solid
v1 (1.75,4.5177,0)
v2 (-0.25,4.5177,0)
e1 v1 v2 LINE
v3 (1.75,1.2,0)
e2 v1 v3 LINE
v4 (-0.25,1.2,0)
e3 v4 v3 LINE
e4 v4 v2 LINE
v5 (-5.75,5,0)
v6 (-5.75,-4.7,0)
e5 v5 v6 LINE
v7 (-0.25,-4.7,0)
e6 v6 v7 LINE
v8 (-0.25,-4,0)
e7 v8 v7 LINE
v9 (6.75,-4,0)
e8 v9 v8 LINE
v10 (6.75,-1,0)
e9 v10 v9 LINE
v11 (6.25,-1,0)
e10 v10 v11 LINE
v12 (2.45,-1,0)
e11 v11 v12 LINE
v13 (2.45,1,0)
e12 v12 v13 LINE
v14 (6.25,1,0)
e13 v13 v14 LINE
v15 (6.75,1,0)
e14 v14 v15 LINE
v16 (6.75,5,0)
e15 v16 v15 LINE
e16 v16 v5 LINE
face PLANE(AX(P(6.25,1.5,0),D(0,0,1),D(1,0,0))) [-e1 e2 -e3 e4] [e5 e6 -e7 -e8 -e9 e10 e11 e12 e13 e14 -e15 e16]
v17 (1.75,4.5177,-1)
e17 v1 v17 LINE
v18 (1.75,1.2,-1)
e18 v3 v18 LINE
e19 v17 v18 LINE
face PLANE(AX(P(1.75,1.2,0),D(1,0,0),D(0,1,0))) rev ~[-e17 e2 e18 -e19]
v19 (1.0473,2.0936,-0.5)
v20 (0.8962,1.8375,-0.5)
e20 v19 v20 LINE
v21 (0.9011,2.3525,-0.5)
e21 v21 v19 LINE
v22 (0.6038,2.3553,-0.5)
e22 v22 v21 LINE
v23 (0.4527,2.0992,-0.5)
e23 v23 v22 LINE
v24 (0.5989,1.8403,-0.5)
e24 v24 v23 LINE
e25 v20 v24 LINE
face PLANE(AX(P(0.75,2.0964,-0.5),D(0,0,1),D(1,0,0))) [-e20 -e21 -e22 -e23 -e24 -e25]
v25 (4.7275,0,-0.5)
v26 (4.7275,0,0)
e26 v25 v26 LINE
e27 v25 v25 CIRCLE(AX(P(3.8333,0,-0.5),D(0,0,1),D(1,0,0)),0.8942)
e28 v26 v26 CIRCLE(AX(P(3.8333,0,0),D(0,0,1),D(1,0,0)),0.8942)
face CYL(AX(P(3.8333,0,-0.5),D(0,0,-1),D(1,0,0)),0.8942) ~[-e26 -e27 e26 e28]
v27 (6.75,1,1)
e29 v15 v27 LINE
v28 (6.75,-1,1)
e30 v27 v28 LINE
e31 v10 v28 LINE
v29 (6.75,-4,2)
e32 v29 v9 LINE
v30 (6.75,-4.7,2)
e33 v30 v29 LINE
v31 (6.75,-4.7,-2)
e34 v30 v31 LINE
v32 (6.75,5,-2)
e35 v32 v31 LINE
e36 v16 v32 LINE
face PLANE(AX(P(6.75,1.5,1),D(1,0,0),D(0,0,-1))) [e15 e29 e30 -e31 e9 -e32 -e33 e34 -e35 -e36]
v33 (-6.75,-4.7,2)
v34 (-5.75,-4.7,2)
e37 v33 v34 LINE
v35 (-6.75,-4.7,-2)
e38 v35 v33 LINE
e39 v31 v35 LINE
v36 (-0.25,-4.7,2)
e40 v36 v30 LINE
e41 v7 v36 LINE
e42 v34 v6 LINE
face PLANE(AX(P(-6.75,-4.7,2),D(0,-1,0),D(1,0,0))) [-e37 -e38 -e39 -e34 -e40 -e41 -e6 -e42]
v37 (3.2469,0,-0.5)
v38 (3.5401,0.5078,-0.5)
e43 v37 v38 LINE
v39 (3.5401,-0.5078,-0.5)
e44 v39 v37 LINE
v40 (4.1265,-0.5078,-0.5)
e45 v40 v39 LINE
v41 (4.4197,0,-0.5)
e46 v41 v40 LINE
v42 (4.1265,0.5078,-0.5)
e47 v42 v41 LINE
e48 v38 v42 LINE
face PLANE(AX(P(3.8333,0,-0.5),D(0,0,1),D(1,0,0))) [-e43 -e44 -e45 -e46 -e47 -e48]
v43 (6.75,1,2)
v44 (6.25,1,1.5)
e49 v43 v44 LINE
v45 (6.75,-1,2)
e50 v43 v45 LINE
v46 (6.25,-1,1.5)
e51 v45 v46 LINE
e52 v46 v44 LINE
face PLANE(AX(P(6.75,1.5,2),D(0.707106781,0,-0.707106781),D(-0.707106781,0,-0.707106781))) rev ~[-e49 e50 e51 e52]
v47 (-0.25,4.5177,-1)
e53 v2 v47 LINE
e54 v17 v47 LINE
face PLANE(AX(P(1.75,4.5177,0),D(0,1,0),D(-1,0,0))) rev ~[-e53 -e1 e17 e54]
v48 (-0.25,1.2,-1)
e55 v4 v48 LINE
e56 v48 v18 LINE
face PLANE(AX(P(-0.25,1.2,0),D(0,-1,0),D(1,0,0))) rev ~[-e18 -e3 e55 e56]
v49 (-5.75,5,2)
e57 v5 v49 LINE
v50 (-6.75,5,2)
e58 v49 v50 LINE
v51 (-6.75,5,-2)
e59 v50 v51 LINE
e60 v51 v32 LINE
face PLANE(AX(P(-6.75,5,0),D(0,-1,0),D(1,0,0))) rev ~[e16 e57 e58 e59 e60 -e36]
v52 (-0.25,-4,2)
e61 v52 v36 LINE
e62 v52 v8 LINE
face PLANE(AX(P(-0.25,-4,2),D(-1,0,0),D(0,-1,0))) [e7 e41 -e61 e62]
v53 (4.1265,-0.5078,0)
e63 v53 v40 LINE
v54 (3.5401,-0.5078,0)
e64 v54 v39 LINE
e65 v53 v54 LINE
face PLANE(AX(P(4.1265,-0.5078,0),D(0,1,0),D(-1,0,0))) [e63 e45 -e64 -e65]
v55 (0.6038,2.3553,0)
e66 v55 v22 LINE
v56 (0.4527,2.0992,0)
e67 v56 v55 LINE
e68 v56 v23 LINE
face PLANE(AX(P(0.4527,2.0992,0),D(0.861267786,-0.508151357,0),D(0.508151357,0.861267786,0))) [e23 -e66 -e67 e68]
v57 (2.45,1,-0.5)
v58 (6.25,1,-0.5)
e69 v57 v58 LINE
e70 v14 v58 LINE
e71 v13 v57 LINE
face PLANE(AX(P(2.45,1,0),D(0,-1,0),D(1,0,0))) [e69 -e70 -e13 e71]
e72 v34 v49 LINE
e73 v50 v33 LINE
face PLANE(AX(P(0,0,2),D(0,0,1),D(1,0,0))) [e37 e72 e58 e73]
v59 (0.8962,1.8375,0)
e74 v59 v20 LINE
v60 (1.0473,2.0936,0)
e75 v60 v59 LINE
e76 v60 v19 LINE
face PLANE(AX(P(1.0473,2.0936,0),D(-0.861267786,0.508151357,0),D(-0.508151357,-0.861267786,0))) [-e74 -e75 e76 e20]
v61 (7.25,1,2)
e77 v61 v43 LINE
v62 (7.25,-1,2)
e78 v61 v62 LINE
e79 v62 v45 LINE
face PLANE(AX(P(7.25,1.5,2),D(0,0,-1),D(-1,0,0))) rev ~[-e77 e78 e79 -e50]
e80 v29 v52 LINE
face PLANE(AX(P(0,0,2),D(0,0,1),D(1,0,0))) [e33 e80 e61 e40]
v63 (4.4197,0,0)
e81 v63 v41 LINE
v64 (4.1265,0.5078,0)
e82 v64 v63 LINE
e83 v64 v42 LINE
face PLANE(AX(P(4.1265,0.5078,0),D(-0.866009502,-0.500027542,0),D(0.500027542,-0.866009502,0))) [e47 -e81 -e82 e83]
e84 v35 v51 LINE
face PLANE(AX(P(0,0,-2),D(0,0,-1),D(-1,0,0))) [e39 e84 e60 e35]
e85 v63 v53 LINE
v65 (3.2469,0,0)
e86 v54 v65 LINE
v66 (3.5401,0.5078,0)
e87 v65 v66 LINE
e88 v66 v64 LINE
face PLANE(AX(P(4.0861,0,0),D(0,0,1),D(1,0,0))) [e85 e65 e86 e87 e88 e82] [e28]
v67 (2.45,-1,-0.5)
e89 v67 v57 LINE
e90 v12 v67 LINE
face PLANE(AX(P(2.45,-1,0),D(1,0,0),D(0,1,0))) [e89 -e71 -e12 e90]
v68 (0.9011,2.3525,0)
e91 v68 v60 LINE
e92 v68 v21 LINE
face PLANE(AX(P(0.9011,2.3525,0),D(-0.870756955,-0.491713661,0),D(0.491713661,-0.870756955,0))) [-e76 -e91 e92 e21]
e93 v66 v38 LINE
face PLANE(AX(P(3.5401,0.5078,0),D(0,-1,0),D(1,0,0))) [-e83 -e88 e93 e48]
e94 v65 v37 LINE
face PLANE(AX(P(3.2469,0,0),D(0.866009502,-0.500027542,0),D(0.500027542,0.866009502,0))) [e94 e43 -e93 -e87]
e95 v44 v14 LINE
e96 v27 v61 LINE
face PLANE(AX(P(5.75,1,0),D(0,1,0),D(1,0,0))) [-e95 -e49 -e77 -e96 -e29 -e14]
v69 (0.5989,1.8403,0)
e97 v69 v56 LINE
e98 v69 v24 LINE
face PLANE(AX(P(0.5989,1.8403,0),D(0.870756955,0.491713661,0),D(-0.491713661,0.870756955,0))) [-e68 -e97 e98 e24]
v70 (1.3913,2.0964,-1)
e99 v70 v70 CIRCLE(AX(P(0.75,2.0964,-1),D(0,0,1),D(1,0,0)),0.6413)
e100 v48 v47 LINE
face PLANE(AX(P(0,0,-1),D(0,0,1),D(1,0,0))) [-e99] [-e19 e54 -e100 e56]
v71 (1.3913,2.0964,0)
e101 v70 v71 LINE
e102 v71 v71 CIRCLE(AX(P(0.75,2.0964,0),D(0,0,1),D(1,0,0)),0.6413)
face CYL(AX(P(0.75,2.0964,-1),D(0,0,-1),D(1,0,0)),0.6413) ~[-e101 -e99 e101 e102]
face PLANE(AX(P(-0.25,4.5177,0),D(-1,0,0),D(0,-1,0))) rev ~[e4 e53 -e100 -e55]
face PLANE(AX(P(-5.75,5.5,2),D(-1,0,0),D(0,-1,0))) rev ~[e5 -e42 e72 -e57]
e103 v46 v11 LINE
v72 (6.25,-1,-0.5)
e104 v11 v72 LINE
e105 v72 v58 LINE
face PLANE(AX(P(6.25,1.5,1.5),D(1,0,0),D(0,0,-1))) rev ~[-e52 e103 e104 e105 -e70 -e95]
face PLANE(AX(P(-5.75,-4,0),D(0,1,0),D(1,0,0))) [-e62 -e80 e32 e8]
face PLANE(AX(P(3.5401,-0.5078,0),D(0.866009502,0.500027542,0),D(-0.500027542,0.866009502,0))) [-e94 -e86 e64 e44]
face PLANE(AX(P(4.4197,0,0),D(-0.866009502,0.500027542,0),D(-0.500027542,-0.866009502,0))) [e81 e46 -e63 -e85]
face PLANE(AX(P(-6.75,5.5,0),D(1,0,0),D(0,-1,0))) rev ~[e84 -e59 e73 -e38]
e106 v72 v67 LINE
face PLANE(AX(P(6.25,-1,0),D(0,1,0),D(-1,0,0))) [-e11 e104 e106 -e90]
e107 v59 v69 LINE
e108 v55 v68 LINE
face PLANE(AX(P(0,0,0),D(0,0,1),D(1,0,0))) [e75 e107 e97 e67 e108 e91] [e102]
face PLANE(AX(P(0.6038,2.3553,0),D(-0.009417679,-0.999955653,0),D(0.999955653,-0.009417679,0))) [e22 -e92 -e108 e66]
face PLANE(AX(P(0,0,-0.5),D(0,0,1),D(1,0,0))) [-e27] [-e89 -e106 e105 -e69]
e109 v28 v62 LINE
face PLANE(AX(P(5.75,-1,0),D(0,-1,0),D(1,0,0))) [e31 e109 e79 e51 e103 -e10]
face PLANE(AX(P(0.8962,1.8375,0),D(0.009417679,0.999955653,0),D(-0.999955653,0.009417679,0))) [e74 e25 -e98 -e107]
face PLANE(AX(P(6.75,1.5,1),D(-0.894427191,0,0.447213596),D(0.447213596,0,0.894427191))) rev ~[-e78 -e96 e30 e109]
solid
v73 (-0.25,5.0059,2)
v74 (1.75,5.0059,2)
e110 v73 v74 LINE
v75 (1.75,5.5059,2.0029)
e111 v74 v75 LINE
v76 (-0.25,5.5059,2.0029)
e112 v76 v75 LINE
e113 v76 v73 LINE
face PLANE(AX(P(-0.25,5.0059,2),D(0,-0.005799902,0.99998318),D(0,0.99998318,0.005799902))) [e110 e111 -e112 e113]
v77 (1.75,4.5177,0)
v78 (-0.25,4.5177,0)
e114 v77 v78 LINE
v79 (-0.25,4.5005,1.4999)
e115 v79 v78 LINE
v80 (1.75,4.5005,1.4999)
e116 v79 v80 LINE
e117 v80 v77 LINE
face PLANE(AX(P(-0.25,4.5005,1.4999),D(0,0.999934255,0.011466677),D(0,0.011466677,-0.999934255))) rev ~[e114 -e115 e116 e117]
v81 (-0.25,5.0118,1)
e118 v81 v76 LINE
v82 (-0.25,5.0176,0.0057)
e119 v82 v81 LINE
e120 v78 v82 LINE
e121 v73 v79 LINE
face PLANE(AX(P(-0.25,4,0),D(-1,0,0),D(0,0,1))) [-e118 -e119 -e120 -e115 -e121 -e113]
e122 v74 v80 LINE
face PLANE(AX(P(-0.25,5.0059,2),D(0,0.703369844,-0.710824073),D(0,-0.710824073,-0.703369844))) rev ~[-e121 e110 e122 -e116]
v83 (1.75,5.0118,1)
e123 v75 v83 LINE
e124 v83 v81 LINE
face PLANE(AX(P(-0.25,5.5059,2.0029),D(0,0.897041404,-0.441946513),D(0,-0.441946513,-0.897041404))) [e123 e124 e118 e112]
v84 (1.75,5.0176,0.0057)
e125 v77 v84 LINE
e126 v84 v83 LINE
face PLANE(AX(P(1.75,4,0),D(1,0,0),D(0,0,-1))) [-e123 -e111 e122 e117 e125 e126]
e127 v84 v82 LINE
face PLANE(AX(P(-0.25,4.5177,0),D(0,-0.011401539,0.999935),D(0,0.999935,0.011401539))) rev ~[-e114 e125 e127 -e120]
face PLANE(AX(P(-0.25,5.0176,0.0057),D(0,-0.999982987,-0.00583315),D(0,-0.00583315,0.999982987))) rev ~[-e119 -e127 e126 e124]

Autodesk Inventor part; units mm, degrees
ref_plane "YZ Plane" through (0, 0, 0) normal (1, 0, 0) x (0, 1, 0)
ref_plane "XZ Plane" through (0, 0, 0) normal (0, 1, 0) x (-1, 0, 0)
ref_plane "XY Plane" through (0, 0, 0) normal (0, 0, 1) x (1, 0, 0)
sketch "Sketch1" plane through (0, 0, 0) normal (0, 0, 1) x (1, 0, 0)
  line L0 (-5.75, -4) -> (5.75, -4)
  line L1 (5.75, -4) -> (5.75, 4)
  line L2 (5.75, 4) -> (-5.75, 4)
  line L3 (-5.75, 4) -> (-5.75, -4)
  line L4 (-5.75, -4) -> (5.75, 4) construction
  line L5 (5.75, -4) -> (-5.75, 4) construction
  line L6 (-6.75, -5.5) -> (6.75, -5.5)
  line L7 (6.75, -5.5) -> (6.75, 5.5)
  line L8 (6.75, 5.5) -> (-6.75, 5.5)
  line L9 (-6.75, 5.5) -> (-6.75, -5.5)
  line L10 (-6.75, -5.5) -> (6.75, 5.5) construction
  line L11 (6.75, -5.5) -> (-6.75, 5.5) construction
  point P0 (0, 0)
  dimension "d0" = 11.5
  dimension "d1" = 8
  dimension "d2" = 13.5
  dimension "d3" = 11
extrude "Extrusion1" add sketch "Sketch1" along normal blind 2
sketch "Sketch2" plane through (0, 0, 0) normal (0, 0, -1) x (-1, 0, 0)
  line L0 (-5.75, -4.5) -> (5.75, -4.5)
  line L1 (5.75, -4.5) -> (5.75, 3.5)
  line L2 (5.75, 3.5) -> (-5.75, 3.5)
  line L3 (-5.75, 3.5) -> (-5.75, -4.5)
  line L4 (-5.75, -4.5) -> (5.75, 3.5) construction
  line L5 (5.75, -4.5) -> (-5.75, 3.5) construction
  line L6 (-6.75, -6) -> (6.75, -6)
  line L7 (6.75, -6) -> (6.75, 5)
  line L8 (6.75, 5) -> (-6.75, 5)
  line L9 (-6.75, 5) -> (-6.75, -6)
  line L10 (-6.75, -6) -> (6.75, 5) construction
  line L11 (6.75, -6) -> (-6.75, 5) construction
  point P0 (0, 0)
  point P1 (0, -0.5)
  dimension "d6" = 11.5
  dimension "d7" = 8
  dimension "d8" = 13.5
  dimension "d9" = 11
extrude "Extrusion2" add sketch "Sketch2" along normal blind 2 contours L3 L2 L1 L0 | L9 L8 L7 L6
sketch "Sketch3" plane through (0, 0, 2) normal (0, 0, 1) x (1, 0, 0)
  line L0 (6.75, -5.5) -> (6.75, 5.5) projected
  line L1 (5.75, -4) -> (6.75, -4)
  line L2 (6.75, -4) -> (6.75, -1.5)
  line L3 (6.75, -1.5) -> (5.75, -1.5)
  line L4 (5.75, -1.5) -> (5.75, -4)
  line L5 (5.75, 4) -> (5.75, -4) projected
  line L6 (5.75, 4) -> (6.75, 4)
  line L7 (6.75, 4) -> (6.75, 1.5)
  line L8 (6.75, 1.5) -> (5.75, 1.5)
  line L9 (5.75, 1.5) -> (5.75, 4)
  point P0 (0, 0)
  dimension "d12" = 2.5
  dimension "d13" = 2.5
extrude "Extrusion3" cut sketch "Sketch3" against normal blind 2 contours L1 L4 L3 L0 | L8 L5 L6 L0
sketch "Sketch4" plane through (0, 0, 2) normal (0, 0, 1) x (1, 0, 0)
  line L0 (6.75, 5.5) -> (-6.75, 5.5) projected
  line L1 (-5.75, 4) -> (-0.25, 4)
  line L2 (-0.25, 4) -> (-0.25, 5.5)
  line L3 (-0.25, 5.5) -> (-5.75, 5.5)
  line L4 (-5.75, 5.5) -> (-5.75, 4)
  line L5 (-6.75, -5.5) -> (6.75, -5.5) projected
  line L6 (-5.75, -4) -> (-0.25, -4)
  line L7 (-0.25, -4) -> (-0.25, -5.5)
  line L8 (-0.25, -5.5) -> (-5.75, -5.5)
  line L9 (-5.75, -5.5) -> (-5.75, -4)
  line L10 (-5.75, 4) -> (6.75, 4) projected
  line L11 (1.75, 4) -> (6.7628, 4)
  line L12 (6.7628, 4) -> (6.7628, 5.5)
  line L13 (6.7628, 5.5) -> (1.75, 5.5)
  line L14 (1.75, 5.5) -> (1.75, 4)
  point P0 (0, 0)
  point P1 (1.75, 5.5)
  point P2 (6.75, 4)
  point P3 (-5.75, 5.5)
  dimension "d16" = 5.5
  dimension "d17" = 5.5
  dimension "d18" = 2
extrude "Extrusion4" cut sketch "Sketch4" against normal blind 2 contours L13 L12 L11 L10 L14 L0 | L2 L1 L4 L0 | L9 L6 L7 L5
sketch "Sketch5" plane through (0, 0, 0) normal (0, 0, 1) x (1, 0, 0)
  line L0 (-6.75, -6) -> (-6.75, 5) projected
  line L1 (6.75, -5.5) -> (6.75, -6) projected
  line L2 (-6.75, -6) -> (6.75, -6)
  line L3 (6.75, -6) -> (6.75, -5.5)
  line L4 (6.75, -5.5) -> (-6.75, -5.5)
  line L5 (-6.75, -5.5) -> (-6.75, -6)
  point P0 (0, 0)
  point P1 (-6.75, -5.5)
extrude "Extrusion5" cut sketch "Sketch5" against normal blind 2
sketch "Sketch6" plane through (0, 0, 0) normal (0, 0, -1) x (-1, 0, 0)
  line L0 (-1.75, 4) -> (-1.75, 5) projected
  line L1 (-1.75, 5.5) -> (0.25, 5.5) projected
  line L2 (-1.75, 5) -> (0.25, 5)
  line L3 (0.25, 5) -> (0.25, 5.5)
  line L4 (0.25, 5.5) -> (-1.75, 5.5)
  line L5 (-1.75, 5.5) -> (-1.75, 5)
  point P0 (0, 0)
extrude "Extrusion6" cut sketch "Sketch6" against normal blind 2
sketch "Sketch7" plane through (0, 0, 0) normal (0, 0, -1) x (-1, 0, 0)
  line L0 (0.25, 5) -> (5.75, 5) projected
  line L1 (6.75, 5.5) -> (6.75, -5.5) projected
  line L2 (5.75, 5) -> (6.75, 5)
  line L3 (6.75, 5) -> (6.75, 5.5)
  line L4 (6.75, 5.5) -> (5.75, 5.5)
  line L5 (5.75, 5.5) -> (5.75, 5)
  point P0 (0, 0)
extrude "Extrusion7" cut sketch "Sketch7" against normal blind 2
sketch "Sketch8" plane through (0, 0, 0) normal (0, 0, 1) x (1, 0, 0)
  line L0 (5.75, 1.5) -> (5.75, -1.5) projected
  line L1 (5.75, -1.5) -> (5.75, 1.5)
  line L2 (-0.25, 4) -> (1.75, 4) projected
  line L3 (1.75, 4) -> (-0.25, 4)
  line L4 (-0.25, 4) -> (-0.25, 1.2)
  line L5 (-0.25, 1.2) -> (1.75, 1.2)
  line L6 (1.75, 1.2) -> (1.75, 4)
  line L7 (5.75, -1) -> (2.45, -1)
  line L8 (2.45, -1) -> (2.45, 1)
  line L9 (2.45, 1) -> (5.75, 1)
  line L10 (5.75, 1) -> (5.75, -1)
  line L11 (6.75, 1.5) -> (5.75, 1.5) projected
  line L12 (5.75, -1.5) -> (6.75, -1.5) projected
  point P0 (0, 0)
  dimension "d28" = 2.8
  dimension "d57" = 3.3
  dimension "d58" = 2
  dimension "d59" = 0.5
  dimension "d60" = 0.5
extrude "Extrusion8" cut sketch "Sketch8" against normal blind 1 contours L2 L6 L5 L4
sketch "Sketch9" plane through (0, 0, -1) normal (0, 0, 1) x (1, 0, 0)
  circle A0 centre (0.75, 2.0964) radius 0.6413
  point P0 (0, 0)
extrude "Extrusion9" add sketch "Sketch9" along normal blind 1
sketch "Sketch10" plane through (0, 0, -1) normal (0, 0, 1) x (1, 0, 0)
  circle A0 centre (4.0861, 0) radius 0.75
  point P0 (0, 0)
  dimension "d33" = 1.5
extrude "Extrusion10" add sketch "Sketch10" along normal blind 1
sketch "Sketch11" plane through (4.0861, 0, 0) normal (0, 0, 1) x (1, 0, 0)
  line L0 (0.1861, -0.3022) -> (-0.1686, -0.3123)
  line L1 (-0.1686, -0.3123) -> (-0.3547, -0.0101)
  line L2 (-0.3547, -0.0101) -> (-0.1861, 0.3022)
  line L3 (-0.1861, 0.3022) -> (0.1686, 0.3123)
  line L4 (0.1686, 0.3123) -> (0.3547, 0.0101)
  line L5 (0.3547, 0.0101) -> (0.1861, -0.3022)
  point P0 (-4.0861, 0)
  point P1 (0, 0)
extrude "Extrusion11" cut sketch "Sketch11" against normal blind 0.5
sketch "Sketch12" plane through (0.75, 2.0964, 0) normal (0, 0, 1) x (1, 0, 0)
  circle A0 centre (0, 0) radius 0.6413 projected
  line L0 (0.1462, -0.2589) -> (-0.1511, -0.2561)
  line L1 (-0.1511, -0.2561) -> (-0.2973, 0.0028)
  line L2 (-0.2973, 0.0028) -> (-0.1462, 0.2589)
  line L3 (-0.1462, 0.2589) -> (0.1511, 0.2561)
  line L4 (0.1511, 0.2561) -> (0.2973, -0.0028)
  line L5 (0.2973, -0.0028) -> (0.1462, -0.2589)
  point P0 (-0.75, -2.0964)
extrude "Extrusion12" cut sketch "Sketch12" against normal blind 0.5 contours L0 L1 L2 L3 L4 L5
sketch "Sketch13" plane through (6.75, -5.5, 2) normal (1, 0, 0) x (0, 0, -1)
  line L0 (0, 4) -> (2, 4) projected
  line L1 (0.5, 4) -> (-0.5, 4)
  line L2 (-0.5, 4) -> (-0.5, 7)
  line L3 (-0.5, 7) -> (0.5, 7)
  line L4 (0.5, 7) -> (0.5, 4)
  line L5 (2, 10.5) -> (2, 7) projected
  point P0 (2, 5.5)
  dimension "d40" = 1
  dimension "d41" = 1.5
extrude "Extrusion13" add sketch "Sketch13" along normal blind 0.5
sketch "Sketch14" plane through (5.75, 1.5, 0) normal (0, 1, 0) x (1, 0, 0)
  line L0 (1, 0) -> (1, -1.5) projected
  line L1 (1, 0) -> (1, -1)
  line L2 (1, -1) -> (1.5, -2)
  line L3 (1.5, -1.5) -> (1.5, -2.5) projected
  line L4 (0, -2) -> (1, -2) projected
  line L5 (1, -2) -> (1.5, -2)
  line L6 (0, 0) -> (1, 0) projected
  line L7 (0.5, 0) -> (0.5, -1.5)
  line L8 (0.5, -1.5) -> (1, -2)
  point P0 (-5.75, 0)
  dimension "d44" = 1
extrude "Extrusion14" add sketch "Sketch14" along normal blind 5
sketch "Sketch15" plane through (5.75, -1.5, 0) normal (0, -1, 0) x (1, 0, 0)
  line L0 (0, 2) -> (1, 2) projected
  line L1 (0, 0) -> (0, 2) projected
  line L2 (0, 0) -> (1, 0) projected
  line L3 (1, 1.5) -> (1, 0) projected
  line L4 (1, 1.5) -> (1.5, 1.5) projected
  line L5 (1.5, 2.5) -> (1.5, 1.5) projected
  line L6 (1, 2.5) -> (1.5, 2.5) projected
  line L7 (1, 2.5) -> (1, 2) projected
  point P0 (-5.75, 0)
extrude "Extrusion15" cut sketch "Sketch15" against normal blind 3
sketch "Sketch16" plane through (5.75, 1.5, 0) normal (0, -1, 0) x (1, 0, 0)
  line L0 (1, 1) -> (1.5, 2) projected
  line L1 (1.5, 2) -> (1, 2) projected
  line L2 (1, 2) -> (0.5, 1.5) projected
  line L3 (0.5, 1.5) -> (0.5, 0) projected
  line L4 (1, 0) -> (0.5, 0) projected
  line L5 (1, 1) -> (1, 0) projected
  point P0 (-5.75, 0)
extrude "Extrusion16" add sketch "Sketch16" along normal blind 3
sketch "Sketch17" plane through (5.75, 6.5, 0) normal (0, 1, 0) x (1, 0, 0)
  line L0 (1, -2) -> (1.5, -2) projected
  line L1 (1.5, -2) -> (1, -1) projected
  line L2 (1, -1) -> (1, 0) projected
  line L3 (1, 0) -> (0.5, 0) projected
  line L4 (0.5, 0) -> (0.5, -1.5) projected
  line L5 (0.5, -1.5) -> (1, -2) projected
  point P0 (-5.75, 0)
extrude "Extrusion17" cut sketch "Sketch17" against normal blind 5
sketch "Sketch18" plane through (5.75, 1.5, 0) normal (0, 1, 0) x (1, 0, 0)
  line L0 (1, -1) -> (1.5, -2) projected
  line L1 (1, 0) -> (1, -1) projected
  line L2 (0.5, 0) -> (1, 0) projected
  line L3 (0.5, -1.5) -> (0.5, 0) projected
  line L4 (1, -2) -> (0.5, -1.5) projected
  line L5 (1.5, -2) -> (1, -2) projected
  point P0 (-5.75, 0)
extrude "Extrusion18" cut sketch "Sketch18" against normal blind 0.5
sketch "Sketch19" plane through (5.75, -1.5, 0) normal (0, -1, 0) x (1, 0, 0)
  line L0 (1, 1) -> (1.5, 2) projected
  line L1 (1.5, 2) -> (1, 2) projected
  line L2 (1, 2) -> (0.5, 1.5) projected
  line L3 (0.5, 1.5) -> (0.5, 0) projected
  line L4 (1, 0) -> (0.5, 0) projected
  line L5 (1, 0) -> (1, 1) projected
  point P0 (-5.75, 0)
extrude "Extrusion19" cut sketch "Sketch19" against normal blind 0.5
sketch "Sketch20" plane through (0, 0, 0) normal (0, 0, 1) x (1, 0, 0)
  line L0 (6.25, -1) -> (6.25, 1) projected
  line L1 (6.25, -1) -> (2.45, -1)
  line L2 (2.45, -1) -> (2.45, 1)
  line L3 (2.45, 1) -> (6.25, 1)
  line L4 (6.25, 1) -> (6.25, -1)
  point P0 (0, 0)
  dimension "d61" = 3.8
  dimension "d62" = 2
extrude "Extrusion20" cut sketch "Sketch20" against normal blind 0.5
sketch "Sketch21" plane through (4.0861, 0, -0.5) normal (0, 0, 1) x (1, 0, 0)
  circle A0 centre (-0.2528, 0) radius 0.8942
  point P0 (-4.0861, 0)
extrude "Extrusion21" add sketch "Sketch21" along normal blind 0.5
sketch "Sketch22" plane through (3.8333, 0, 0) normal (0, 0, 1) x (1, 0, 0)
  line L0 (0.5864, 0) -> (0.2932, -0.5078)
  line L1 (0.2932, -0.5078) -> (-0.2932, -0.5078)
  line L2 (-0.2932, -0.5078) -> (-0.5864, 0)
  line L3 (-0.5864, 0) -> (-0.2932, 0.5078)
  line L4 (-0.2932, 0.5078) -> (0.2932, 0.5078)
  line L5 (0.2932, 0.5078) -> (0.5864, 0)
  point P0 (-3.8333, 0)
  point P1 (0, 0)
extrude "Extrusion22" cut sketch "Sketch22" against normal blind 0.5
sketch "Sketch23" plane through (-6.75, 5, -2) normal (0, 1, 0) x (1, 0, 0)
  line L0 (8.5, -4) -> (6.5, -4) projected
  line L1 (6.5, -4) -> (6.5, -2) projected
  line L2 (8.5, -4) -> (6.5, -4)
  line L3 (6.5, -4) -> (6.5, -3)
  line L4 (6.5, -3) -> (8.5, -3)
  line L5 (8.5, -3) -> (8.5, -4)
  point P0 (6.75, -2)
  dimension "d69" = 1
extrude "Extrusion23" add sketch "Sketch23" along normal blind 0.5
sketch "Sketch24" plane through (-0.25, 4, 0) normal (-1, 0, 0) x (0, 0, 1)
  line L0 (2, 1.0059) -> (2.0029, 1.5059)
  line L1 (2.0029, 1.5059) -> (1, 1.0118)
  line L2 (1, 1.0118) -> (0.0057, 1.0176)
  line L3 (0.0057, 1.0176) -> (0, 0.5177)
  line L4 (0, 0.5177) -> (1.4999, 0.5005)
  line L5 (1.4999, 0.5005) -> (2, 1.0059)
  line L6 (2, 1.5) -> (2, 0) projected
  line L7 (2, 1.0059) -> (2, 0)
  line L8 (0, 0) -> (-1, 0) projected
  line L9 (2, 0) -> (0, 0)
  line L10 (0, 0) -> (0, 0.5177)
  point P0 (0, -4)
  point P1 (-5.75, 0)
extrude "Extrusion24" add sketch "Sketch24" along normal blind 4 contours L5 L4 L3 L2 L1 L0
sketch "Sketch25" plane through (1.75, 4, 0) normal (1, 0, 0) x (0, 0, -1)
  line L0 (0, 1) -> (-1, 1) projected
  line L1 (-1, 1) -> (-1, 1.5) projected
  line L2 (-2, 1.5) -> (-1, 1.5) projected
  line L3 (-2, 0) -> (-2, 1.5) projected
  line L4 (0, 0) -> (-2, 0) projected
  line L5 (0, 0) -> (0, 1) projected
  point P0 (0, -4)
extrude "Extrusion25" cut sketch "Sketch25" against normal blind 2
sketch "Sketch26" plane through (-0.25, 4, 0) normal (1, 0, 0) x (0, 0, -1)
  line L0 (-2.0029, 1.5059) -> (-1, 1.0118) projected
  line L1 (-2, 1.0059) -> (-2.0029, 1.5059) projected
  line L2 (-2, 1.0059) -> (-1.4999, 0.5005) projected
  line L3 (-1.4999, 0.5005) -> (0, 0.5177) projected
  line L4 (0, 0.5177) -> (-0.0057, 1.0176) projected
  line L5 (-0.0057, 1.0176) -> (-1, 1.0118) projected
  point P0 (0, -4)
extrude "Extrusion26" add sketch "Sketch26" along normal blind 2
sketch "Sketch27" plane through (-4.25, 4, 0) normal (-1, 0, 0) x (0, 0, 1)
  line L0 (1.4999, 0.5005) -> (0, 0.5177) projected
  line L1 (0, 0.5177) -> (0.0057, 1.0176) projected
  line L2 (0.0057, 1.0176) -> (1, 1.0118) projected
  line L3 (1, 1.0118) -> (2.0029, 1.5059) projected
  line L4 (2.0029, 1.5059) -> (2, 1.0059) projected
  line L5 (2, 1.0059) -> (1.4999, 0.5005) projected
  point P0 (0, -4)
extrude "Extrusion27" cut sketch "Sketch27" against normal blind 4
sketch "Sketch28" plane through (0, 0, 0) normal (0, 0, 1) x (1, 0, 0)
  line L0 (-0.25, 1.2) -> (-0.25, 4) projected
  line L1 (1.75, 4.5177) -> (1.75, 5.0176) projected
  line L2 (-0.25, 4) -> (1.75, 4)
  line L3 (1.75, 4) -> (1.75, 4.5177)
  line L4 (1.75, 4.5177) -> (-0.25, 4.5177)
  line L5 (-0.25, 4.5177) -> (-0.25, 4)
  point P0 (0, 0)
extrude "Extrusion28" cut sketch "Sketch28" against normal blind 1
sketch "Sketch29" plane through (-6.75, -5.5, 2) normal (0, -1, 0) x (1, 0, 0)
  line L0 (1, -2) -> (1, 0) projected
  line L1 (0, 0) -> (1, 0) projected
  line L2 (0, -4) -> (0, 0) projected
  line L3 (13.5, -4) -> (0, -4) projected
  line L4 (13.5, 0) -> (13.5, -4) projected
  line L5 (6.5, 0) -> (13.5, 0) projected
  line L6 (6.5, 0) -> (6.5, -2) projected
  line L7 (1, -2) -> (6.5, -2) projected
  point P0 (6.75, -2)
extrude "Extrusion29" cut sketch "Sketch29" against normal blind 0.5
sketch "Sketch30" plane through (-6.75, -5, 2) normal (0, -1, 0) x (1, 0, 0)
  line L0 (1, -2) -> (6.5, -2) projected
  line L1 (1, 0) -> (1, -2) projected
  line L2 (0, 0) -> (1, 0) projected
  line L3 (0, -4) -> (0, 0) projected
  line L4 (13.5, -4) -> (0, -4) projected
  line L5 (13.5, 0) -> (13.5, -4) projected
  line L6 (6.5, 0) -> (13.5, 0) projected
  line L7 (6.5, -2) -> (6.5, 0) projected
  point P0 (6.75, -2)
extrude "Extrusion30" cut sketch "Sketch30" against normal blind 0.3
properties part number "Catcher"
